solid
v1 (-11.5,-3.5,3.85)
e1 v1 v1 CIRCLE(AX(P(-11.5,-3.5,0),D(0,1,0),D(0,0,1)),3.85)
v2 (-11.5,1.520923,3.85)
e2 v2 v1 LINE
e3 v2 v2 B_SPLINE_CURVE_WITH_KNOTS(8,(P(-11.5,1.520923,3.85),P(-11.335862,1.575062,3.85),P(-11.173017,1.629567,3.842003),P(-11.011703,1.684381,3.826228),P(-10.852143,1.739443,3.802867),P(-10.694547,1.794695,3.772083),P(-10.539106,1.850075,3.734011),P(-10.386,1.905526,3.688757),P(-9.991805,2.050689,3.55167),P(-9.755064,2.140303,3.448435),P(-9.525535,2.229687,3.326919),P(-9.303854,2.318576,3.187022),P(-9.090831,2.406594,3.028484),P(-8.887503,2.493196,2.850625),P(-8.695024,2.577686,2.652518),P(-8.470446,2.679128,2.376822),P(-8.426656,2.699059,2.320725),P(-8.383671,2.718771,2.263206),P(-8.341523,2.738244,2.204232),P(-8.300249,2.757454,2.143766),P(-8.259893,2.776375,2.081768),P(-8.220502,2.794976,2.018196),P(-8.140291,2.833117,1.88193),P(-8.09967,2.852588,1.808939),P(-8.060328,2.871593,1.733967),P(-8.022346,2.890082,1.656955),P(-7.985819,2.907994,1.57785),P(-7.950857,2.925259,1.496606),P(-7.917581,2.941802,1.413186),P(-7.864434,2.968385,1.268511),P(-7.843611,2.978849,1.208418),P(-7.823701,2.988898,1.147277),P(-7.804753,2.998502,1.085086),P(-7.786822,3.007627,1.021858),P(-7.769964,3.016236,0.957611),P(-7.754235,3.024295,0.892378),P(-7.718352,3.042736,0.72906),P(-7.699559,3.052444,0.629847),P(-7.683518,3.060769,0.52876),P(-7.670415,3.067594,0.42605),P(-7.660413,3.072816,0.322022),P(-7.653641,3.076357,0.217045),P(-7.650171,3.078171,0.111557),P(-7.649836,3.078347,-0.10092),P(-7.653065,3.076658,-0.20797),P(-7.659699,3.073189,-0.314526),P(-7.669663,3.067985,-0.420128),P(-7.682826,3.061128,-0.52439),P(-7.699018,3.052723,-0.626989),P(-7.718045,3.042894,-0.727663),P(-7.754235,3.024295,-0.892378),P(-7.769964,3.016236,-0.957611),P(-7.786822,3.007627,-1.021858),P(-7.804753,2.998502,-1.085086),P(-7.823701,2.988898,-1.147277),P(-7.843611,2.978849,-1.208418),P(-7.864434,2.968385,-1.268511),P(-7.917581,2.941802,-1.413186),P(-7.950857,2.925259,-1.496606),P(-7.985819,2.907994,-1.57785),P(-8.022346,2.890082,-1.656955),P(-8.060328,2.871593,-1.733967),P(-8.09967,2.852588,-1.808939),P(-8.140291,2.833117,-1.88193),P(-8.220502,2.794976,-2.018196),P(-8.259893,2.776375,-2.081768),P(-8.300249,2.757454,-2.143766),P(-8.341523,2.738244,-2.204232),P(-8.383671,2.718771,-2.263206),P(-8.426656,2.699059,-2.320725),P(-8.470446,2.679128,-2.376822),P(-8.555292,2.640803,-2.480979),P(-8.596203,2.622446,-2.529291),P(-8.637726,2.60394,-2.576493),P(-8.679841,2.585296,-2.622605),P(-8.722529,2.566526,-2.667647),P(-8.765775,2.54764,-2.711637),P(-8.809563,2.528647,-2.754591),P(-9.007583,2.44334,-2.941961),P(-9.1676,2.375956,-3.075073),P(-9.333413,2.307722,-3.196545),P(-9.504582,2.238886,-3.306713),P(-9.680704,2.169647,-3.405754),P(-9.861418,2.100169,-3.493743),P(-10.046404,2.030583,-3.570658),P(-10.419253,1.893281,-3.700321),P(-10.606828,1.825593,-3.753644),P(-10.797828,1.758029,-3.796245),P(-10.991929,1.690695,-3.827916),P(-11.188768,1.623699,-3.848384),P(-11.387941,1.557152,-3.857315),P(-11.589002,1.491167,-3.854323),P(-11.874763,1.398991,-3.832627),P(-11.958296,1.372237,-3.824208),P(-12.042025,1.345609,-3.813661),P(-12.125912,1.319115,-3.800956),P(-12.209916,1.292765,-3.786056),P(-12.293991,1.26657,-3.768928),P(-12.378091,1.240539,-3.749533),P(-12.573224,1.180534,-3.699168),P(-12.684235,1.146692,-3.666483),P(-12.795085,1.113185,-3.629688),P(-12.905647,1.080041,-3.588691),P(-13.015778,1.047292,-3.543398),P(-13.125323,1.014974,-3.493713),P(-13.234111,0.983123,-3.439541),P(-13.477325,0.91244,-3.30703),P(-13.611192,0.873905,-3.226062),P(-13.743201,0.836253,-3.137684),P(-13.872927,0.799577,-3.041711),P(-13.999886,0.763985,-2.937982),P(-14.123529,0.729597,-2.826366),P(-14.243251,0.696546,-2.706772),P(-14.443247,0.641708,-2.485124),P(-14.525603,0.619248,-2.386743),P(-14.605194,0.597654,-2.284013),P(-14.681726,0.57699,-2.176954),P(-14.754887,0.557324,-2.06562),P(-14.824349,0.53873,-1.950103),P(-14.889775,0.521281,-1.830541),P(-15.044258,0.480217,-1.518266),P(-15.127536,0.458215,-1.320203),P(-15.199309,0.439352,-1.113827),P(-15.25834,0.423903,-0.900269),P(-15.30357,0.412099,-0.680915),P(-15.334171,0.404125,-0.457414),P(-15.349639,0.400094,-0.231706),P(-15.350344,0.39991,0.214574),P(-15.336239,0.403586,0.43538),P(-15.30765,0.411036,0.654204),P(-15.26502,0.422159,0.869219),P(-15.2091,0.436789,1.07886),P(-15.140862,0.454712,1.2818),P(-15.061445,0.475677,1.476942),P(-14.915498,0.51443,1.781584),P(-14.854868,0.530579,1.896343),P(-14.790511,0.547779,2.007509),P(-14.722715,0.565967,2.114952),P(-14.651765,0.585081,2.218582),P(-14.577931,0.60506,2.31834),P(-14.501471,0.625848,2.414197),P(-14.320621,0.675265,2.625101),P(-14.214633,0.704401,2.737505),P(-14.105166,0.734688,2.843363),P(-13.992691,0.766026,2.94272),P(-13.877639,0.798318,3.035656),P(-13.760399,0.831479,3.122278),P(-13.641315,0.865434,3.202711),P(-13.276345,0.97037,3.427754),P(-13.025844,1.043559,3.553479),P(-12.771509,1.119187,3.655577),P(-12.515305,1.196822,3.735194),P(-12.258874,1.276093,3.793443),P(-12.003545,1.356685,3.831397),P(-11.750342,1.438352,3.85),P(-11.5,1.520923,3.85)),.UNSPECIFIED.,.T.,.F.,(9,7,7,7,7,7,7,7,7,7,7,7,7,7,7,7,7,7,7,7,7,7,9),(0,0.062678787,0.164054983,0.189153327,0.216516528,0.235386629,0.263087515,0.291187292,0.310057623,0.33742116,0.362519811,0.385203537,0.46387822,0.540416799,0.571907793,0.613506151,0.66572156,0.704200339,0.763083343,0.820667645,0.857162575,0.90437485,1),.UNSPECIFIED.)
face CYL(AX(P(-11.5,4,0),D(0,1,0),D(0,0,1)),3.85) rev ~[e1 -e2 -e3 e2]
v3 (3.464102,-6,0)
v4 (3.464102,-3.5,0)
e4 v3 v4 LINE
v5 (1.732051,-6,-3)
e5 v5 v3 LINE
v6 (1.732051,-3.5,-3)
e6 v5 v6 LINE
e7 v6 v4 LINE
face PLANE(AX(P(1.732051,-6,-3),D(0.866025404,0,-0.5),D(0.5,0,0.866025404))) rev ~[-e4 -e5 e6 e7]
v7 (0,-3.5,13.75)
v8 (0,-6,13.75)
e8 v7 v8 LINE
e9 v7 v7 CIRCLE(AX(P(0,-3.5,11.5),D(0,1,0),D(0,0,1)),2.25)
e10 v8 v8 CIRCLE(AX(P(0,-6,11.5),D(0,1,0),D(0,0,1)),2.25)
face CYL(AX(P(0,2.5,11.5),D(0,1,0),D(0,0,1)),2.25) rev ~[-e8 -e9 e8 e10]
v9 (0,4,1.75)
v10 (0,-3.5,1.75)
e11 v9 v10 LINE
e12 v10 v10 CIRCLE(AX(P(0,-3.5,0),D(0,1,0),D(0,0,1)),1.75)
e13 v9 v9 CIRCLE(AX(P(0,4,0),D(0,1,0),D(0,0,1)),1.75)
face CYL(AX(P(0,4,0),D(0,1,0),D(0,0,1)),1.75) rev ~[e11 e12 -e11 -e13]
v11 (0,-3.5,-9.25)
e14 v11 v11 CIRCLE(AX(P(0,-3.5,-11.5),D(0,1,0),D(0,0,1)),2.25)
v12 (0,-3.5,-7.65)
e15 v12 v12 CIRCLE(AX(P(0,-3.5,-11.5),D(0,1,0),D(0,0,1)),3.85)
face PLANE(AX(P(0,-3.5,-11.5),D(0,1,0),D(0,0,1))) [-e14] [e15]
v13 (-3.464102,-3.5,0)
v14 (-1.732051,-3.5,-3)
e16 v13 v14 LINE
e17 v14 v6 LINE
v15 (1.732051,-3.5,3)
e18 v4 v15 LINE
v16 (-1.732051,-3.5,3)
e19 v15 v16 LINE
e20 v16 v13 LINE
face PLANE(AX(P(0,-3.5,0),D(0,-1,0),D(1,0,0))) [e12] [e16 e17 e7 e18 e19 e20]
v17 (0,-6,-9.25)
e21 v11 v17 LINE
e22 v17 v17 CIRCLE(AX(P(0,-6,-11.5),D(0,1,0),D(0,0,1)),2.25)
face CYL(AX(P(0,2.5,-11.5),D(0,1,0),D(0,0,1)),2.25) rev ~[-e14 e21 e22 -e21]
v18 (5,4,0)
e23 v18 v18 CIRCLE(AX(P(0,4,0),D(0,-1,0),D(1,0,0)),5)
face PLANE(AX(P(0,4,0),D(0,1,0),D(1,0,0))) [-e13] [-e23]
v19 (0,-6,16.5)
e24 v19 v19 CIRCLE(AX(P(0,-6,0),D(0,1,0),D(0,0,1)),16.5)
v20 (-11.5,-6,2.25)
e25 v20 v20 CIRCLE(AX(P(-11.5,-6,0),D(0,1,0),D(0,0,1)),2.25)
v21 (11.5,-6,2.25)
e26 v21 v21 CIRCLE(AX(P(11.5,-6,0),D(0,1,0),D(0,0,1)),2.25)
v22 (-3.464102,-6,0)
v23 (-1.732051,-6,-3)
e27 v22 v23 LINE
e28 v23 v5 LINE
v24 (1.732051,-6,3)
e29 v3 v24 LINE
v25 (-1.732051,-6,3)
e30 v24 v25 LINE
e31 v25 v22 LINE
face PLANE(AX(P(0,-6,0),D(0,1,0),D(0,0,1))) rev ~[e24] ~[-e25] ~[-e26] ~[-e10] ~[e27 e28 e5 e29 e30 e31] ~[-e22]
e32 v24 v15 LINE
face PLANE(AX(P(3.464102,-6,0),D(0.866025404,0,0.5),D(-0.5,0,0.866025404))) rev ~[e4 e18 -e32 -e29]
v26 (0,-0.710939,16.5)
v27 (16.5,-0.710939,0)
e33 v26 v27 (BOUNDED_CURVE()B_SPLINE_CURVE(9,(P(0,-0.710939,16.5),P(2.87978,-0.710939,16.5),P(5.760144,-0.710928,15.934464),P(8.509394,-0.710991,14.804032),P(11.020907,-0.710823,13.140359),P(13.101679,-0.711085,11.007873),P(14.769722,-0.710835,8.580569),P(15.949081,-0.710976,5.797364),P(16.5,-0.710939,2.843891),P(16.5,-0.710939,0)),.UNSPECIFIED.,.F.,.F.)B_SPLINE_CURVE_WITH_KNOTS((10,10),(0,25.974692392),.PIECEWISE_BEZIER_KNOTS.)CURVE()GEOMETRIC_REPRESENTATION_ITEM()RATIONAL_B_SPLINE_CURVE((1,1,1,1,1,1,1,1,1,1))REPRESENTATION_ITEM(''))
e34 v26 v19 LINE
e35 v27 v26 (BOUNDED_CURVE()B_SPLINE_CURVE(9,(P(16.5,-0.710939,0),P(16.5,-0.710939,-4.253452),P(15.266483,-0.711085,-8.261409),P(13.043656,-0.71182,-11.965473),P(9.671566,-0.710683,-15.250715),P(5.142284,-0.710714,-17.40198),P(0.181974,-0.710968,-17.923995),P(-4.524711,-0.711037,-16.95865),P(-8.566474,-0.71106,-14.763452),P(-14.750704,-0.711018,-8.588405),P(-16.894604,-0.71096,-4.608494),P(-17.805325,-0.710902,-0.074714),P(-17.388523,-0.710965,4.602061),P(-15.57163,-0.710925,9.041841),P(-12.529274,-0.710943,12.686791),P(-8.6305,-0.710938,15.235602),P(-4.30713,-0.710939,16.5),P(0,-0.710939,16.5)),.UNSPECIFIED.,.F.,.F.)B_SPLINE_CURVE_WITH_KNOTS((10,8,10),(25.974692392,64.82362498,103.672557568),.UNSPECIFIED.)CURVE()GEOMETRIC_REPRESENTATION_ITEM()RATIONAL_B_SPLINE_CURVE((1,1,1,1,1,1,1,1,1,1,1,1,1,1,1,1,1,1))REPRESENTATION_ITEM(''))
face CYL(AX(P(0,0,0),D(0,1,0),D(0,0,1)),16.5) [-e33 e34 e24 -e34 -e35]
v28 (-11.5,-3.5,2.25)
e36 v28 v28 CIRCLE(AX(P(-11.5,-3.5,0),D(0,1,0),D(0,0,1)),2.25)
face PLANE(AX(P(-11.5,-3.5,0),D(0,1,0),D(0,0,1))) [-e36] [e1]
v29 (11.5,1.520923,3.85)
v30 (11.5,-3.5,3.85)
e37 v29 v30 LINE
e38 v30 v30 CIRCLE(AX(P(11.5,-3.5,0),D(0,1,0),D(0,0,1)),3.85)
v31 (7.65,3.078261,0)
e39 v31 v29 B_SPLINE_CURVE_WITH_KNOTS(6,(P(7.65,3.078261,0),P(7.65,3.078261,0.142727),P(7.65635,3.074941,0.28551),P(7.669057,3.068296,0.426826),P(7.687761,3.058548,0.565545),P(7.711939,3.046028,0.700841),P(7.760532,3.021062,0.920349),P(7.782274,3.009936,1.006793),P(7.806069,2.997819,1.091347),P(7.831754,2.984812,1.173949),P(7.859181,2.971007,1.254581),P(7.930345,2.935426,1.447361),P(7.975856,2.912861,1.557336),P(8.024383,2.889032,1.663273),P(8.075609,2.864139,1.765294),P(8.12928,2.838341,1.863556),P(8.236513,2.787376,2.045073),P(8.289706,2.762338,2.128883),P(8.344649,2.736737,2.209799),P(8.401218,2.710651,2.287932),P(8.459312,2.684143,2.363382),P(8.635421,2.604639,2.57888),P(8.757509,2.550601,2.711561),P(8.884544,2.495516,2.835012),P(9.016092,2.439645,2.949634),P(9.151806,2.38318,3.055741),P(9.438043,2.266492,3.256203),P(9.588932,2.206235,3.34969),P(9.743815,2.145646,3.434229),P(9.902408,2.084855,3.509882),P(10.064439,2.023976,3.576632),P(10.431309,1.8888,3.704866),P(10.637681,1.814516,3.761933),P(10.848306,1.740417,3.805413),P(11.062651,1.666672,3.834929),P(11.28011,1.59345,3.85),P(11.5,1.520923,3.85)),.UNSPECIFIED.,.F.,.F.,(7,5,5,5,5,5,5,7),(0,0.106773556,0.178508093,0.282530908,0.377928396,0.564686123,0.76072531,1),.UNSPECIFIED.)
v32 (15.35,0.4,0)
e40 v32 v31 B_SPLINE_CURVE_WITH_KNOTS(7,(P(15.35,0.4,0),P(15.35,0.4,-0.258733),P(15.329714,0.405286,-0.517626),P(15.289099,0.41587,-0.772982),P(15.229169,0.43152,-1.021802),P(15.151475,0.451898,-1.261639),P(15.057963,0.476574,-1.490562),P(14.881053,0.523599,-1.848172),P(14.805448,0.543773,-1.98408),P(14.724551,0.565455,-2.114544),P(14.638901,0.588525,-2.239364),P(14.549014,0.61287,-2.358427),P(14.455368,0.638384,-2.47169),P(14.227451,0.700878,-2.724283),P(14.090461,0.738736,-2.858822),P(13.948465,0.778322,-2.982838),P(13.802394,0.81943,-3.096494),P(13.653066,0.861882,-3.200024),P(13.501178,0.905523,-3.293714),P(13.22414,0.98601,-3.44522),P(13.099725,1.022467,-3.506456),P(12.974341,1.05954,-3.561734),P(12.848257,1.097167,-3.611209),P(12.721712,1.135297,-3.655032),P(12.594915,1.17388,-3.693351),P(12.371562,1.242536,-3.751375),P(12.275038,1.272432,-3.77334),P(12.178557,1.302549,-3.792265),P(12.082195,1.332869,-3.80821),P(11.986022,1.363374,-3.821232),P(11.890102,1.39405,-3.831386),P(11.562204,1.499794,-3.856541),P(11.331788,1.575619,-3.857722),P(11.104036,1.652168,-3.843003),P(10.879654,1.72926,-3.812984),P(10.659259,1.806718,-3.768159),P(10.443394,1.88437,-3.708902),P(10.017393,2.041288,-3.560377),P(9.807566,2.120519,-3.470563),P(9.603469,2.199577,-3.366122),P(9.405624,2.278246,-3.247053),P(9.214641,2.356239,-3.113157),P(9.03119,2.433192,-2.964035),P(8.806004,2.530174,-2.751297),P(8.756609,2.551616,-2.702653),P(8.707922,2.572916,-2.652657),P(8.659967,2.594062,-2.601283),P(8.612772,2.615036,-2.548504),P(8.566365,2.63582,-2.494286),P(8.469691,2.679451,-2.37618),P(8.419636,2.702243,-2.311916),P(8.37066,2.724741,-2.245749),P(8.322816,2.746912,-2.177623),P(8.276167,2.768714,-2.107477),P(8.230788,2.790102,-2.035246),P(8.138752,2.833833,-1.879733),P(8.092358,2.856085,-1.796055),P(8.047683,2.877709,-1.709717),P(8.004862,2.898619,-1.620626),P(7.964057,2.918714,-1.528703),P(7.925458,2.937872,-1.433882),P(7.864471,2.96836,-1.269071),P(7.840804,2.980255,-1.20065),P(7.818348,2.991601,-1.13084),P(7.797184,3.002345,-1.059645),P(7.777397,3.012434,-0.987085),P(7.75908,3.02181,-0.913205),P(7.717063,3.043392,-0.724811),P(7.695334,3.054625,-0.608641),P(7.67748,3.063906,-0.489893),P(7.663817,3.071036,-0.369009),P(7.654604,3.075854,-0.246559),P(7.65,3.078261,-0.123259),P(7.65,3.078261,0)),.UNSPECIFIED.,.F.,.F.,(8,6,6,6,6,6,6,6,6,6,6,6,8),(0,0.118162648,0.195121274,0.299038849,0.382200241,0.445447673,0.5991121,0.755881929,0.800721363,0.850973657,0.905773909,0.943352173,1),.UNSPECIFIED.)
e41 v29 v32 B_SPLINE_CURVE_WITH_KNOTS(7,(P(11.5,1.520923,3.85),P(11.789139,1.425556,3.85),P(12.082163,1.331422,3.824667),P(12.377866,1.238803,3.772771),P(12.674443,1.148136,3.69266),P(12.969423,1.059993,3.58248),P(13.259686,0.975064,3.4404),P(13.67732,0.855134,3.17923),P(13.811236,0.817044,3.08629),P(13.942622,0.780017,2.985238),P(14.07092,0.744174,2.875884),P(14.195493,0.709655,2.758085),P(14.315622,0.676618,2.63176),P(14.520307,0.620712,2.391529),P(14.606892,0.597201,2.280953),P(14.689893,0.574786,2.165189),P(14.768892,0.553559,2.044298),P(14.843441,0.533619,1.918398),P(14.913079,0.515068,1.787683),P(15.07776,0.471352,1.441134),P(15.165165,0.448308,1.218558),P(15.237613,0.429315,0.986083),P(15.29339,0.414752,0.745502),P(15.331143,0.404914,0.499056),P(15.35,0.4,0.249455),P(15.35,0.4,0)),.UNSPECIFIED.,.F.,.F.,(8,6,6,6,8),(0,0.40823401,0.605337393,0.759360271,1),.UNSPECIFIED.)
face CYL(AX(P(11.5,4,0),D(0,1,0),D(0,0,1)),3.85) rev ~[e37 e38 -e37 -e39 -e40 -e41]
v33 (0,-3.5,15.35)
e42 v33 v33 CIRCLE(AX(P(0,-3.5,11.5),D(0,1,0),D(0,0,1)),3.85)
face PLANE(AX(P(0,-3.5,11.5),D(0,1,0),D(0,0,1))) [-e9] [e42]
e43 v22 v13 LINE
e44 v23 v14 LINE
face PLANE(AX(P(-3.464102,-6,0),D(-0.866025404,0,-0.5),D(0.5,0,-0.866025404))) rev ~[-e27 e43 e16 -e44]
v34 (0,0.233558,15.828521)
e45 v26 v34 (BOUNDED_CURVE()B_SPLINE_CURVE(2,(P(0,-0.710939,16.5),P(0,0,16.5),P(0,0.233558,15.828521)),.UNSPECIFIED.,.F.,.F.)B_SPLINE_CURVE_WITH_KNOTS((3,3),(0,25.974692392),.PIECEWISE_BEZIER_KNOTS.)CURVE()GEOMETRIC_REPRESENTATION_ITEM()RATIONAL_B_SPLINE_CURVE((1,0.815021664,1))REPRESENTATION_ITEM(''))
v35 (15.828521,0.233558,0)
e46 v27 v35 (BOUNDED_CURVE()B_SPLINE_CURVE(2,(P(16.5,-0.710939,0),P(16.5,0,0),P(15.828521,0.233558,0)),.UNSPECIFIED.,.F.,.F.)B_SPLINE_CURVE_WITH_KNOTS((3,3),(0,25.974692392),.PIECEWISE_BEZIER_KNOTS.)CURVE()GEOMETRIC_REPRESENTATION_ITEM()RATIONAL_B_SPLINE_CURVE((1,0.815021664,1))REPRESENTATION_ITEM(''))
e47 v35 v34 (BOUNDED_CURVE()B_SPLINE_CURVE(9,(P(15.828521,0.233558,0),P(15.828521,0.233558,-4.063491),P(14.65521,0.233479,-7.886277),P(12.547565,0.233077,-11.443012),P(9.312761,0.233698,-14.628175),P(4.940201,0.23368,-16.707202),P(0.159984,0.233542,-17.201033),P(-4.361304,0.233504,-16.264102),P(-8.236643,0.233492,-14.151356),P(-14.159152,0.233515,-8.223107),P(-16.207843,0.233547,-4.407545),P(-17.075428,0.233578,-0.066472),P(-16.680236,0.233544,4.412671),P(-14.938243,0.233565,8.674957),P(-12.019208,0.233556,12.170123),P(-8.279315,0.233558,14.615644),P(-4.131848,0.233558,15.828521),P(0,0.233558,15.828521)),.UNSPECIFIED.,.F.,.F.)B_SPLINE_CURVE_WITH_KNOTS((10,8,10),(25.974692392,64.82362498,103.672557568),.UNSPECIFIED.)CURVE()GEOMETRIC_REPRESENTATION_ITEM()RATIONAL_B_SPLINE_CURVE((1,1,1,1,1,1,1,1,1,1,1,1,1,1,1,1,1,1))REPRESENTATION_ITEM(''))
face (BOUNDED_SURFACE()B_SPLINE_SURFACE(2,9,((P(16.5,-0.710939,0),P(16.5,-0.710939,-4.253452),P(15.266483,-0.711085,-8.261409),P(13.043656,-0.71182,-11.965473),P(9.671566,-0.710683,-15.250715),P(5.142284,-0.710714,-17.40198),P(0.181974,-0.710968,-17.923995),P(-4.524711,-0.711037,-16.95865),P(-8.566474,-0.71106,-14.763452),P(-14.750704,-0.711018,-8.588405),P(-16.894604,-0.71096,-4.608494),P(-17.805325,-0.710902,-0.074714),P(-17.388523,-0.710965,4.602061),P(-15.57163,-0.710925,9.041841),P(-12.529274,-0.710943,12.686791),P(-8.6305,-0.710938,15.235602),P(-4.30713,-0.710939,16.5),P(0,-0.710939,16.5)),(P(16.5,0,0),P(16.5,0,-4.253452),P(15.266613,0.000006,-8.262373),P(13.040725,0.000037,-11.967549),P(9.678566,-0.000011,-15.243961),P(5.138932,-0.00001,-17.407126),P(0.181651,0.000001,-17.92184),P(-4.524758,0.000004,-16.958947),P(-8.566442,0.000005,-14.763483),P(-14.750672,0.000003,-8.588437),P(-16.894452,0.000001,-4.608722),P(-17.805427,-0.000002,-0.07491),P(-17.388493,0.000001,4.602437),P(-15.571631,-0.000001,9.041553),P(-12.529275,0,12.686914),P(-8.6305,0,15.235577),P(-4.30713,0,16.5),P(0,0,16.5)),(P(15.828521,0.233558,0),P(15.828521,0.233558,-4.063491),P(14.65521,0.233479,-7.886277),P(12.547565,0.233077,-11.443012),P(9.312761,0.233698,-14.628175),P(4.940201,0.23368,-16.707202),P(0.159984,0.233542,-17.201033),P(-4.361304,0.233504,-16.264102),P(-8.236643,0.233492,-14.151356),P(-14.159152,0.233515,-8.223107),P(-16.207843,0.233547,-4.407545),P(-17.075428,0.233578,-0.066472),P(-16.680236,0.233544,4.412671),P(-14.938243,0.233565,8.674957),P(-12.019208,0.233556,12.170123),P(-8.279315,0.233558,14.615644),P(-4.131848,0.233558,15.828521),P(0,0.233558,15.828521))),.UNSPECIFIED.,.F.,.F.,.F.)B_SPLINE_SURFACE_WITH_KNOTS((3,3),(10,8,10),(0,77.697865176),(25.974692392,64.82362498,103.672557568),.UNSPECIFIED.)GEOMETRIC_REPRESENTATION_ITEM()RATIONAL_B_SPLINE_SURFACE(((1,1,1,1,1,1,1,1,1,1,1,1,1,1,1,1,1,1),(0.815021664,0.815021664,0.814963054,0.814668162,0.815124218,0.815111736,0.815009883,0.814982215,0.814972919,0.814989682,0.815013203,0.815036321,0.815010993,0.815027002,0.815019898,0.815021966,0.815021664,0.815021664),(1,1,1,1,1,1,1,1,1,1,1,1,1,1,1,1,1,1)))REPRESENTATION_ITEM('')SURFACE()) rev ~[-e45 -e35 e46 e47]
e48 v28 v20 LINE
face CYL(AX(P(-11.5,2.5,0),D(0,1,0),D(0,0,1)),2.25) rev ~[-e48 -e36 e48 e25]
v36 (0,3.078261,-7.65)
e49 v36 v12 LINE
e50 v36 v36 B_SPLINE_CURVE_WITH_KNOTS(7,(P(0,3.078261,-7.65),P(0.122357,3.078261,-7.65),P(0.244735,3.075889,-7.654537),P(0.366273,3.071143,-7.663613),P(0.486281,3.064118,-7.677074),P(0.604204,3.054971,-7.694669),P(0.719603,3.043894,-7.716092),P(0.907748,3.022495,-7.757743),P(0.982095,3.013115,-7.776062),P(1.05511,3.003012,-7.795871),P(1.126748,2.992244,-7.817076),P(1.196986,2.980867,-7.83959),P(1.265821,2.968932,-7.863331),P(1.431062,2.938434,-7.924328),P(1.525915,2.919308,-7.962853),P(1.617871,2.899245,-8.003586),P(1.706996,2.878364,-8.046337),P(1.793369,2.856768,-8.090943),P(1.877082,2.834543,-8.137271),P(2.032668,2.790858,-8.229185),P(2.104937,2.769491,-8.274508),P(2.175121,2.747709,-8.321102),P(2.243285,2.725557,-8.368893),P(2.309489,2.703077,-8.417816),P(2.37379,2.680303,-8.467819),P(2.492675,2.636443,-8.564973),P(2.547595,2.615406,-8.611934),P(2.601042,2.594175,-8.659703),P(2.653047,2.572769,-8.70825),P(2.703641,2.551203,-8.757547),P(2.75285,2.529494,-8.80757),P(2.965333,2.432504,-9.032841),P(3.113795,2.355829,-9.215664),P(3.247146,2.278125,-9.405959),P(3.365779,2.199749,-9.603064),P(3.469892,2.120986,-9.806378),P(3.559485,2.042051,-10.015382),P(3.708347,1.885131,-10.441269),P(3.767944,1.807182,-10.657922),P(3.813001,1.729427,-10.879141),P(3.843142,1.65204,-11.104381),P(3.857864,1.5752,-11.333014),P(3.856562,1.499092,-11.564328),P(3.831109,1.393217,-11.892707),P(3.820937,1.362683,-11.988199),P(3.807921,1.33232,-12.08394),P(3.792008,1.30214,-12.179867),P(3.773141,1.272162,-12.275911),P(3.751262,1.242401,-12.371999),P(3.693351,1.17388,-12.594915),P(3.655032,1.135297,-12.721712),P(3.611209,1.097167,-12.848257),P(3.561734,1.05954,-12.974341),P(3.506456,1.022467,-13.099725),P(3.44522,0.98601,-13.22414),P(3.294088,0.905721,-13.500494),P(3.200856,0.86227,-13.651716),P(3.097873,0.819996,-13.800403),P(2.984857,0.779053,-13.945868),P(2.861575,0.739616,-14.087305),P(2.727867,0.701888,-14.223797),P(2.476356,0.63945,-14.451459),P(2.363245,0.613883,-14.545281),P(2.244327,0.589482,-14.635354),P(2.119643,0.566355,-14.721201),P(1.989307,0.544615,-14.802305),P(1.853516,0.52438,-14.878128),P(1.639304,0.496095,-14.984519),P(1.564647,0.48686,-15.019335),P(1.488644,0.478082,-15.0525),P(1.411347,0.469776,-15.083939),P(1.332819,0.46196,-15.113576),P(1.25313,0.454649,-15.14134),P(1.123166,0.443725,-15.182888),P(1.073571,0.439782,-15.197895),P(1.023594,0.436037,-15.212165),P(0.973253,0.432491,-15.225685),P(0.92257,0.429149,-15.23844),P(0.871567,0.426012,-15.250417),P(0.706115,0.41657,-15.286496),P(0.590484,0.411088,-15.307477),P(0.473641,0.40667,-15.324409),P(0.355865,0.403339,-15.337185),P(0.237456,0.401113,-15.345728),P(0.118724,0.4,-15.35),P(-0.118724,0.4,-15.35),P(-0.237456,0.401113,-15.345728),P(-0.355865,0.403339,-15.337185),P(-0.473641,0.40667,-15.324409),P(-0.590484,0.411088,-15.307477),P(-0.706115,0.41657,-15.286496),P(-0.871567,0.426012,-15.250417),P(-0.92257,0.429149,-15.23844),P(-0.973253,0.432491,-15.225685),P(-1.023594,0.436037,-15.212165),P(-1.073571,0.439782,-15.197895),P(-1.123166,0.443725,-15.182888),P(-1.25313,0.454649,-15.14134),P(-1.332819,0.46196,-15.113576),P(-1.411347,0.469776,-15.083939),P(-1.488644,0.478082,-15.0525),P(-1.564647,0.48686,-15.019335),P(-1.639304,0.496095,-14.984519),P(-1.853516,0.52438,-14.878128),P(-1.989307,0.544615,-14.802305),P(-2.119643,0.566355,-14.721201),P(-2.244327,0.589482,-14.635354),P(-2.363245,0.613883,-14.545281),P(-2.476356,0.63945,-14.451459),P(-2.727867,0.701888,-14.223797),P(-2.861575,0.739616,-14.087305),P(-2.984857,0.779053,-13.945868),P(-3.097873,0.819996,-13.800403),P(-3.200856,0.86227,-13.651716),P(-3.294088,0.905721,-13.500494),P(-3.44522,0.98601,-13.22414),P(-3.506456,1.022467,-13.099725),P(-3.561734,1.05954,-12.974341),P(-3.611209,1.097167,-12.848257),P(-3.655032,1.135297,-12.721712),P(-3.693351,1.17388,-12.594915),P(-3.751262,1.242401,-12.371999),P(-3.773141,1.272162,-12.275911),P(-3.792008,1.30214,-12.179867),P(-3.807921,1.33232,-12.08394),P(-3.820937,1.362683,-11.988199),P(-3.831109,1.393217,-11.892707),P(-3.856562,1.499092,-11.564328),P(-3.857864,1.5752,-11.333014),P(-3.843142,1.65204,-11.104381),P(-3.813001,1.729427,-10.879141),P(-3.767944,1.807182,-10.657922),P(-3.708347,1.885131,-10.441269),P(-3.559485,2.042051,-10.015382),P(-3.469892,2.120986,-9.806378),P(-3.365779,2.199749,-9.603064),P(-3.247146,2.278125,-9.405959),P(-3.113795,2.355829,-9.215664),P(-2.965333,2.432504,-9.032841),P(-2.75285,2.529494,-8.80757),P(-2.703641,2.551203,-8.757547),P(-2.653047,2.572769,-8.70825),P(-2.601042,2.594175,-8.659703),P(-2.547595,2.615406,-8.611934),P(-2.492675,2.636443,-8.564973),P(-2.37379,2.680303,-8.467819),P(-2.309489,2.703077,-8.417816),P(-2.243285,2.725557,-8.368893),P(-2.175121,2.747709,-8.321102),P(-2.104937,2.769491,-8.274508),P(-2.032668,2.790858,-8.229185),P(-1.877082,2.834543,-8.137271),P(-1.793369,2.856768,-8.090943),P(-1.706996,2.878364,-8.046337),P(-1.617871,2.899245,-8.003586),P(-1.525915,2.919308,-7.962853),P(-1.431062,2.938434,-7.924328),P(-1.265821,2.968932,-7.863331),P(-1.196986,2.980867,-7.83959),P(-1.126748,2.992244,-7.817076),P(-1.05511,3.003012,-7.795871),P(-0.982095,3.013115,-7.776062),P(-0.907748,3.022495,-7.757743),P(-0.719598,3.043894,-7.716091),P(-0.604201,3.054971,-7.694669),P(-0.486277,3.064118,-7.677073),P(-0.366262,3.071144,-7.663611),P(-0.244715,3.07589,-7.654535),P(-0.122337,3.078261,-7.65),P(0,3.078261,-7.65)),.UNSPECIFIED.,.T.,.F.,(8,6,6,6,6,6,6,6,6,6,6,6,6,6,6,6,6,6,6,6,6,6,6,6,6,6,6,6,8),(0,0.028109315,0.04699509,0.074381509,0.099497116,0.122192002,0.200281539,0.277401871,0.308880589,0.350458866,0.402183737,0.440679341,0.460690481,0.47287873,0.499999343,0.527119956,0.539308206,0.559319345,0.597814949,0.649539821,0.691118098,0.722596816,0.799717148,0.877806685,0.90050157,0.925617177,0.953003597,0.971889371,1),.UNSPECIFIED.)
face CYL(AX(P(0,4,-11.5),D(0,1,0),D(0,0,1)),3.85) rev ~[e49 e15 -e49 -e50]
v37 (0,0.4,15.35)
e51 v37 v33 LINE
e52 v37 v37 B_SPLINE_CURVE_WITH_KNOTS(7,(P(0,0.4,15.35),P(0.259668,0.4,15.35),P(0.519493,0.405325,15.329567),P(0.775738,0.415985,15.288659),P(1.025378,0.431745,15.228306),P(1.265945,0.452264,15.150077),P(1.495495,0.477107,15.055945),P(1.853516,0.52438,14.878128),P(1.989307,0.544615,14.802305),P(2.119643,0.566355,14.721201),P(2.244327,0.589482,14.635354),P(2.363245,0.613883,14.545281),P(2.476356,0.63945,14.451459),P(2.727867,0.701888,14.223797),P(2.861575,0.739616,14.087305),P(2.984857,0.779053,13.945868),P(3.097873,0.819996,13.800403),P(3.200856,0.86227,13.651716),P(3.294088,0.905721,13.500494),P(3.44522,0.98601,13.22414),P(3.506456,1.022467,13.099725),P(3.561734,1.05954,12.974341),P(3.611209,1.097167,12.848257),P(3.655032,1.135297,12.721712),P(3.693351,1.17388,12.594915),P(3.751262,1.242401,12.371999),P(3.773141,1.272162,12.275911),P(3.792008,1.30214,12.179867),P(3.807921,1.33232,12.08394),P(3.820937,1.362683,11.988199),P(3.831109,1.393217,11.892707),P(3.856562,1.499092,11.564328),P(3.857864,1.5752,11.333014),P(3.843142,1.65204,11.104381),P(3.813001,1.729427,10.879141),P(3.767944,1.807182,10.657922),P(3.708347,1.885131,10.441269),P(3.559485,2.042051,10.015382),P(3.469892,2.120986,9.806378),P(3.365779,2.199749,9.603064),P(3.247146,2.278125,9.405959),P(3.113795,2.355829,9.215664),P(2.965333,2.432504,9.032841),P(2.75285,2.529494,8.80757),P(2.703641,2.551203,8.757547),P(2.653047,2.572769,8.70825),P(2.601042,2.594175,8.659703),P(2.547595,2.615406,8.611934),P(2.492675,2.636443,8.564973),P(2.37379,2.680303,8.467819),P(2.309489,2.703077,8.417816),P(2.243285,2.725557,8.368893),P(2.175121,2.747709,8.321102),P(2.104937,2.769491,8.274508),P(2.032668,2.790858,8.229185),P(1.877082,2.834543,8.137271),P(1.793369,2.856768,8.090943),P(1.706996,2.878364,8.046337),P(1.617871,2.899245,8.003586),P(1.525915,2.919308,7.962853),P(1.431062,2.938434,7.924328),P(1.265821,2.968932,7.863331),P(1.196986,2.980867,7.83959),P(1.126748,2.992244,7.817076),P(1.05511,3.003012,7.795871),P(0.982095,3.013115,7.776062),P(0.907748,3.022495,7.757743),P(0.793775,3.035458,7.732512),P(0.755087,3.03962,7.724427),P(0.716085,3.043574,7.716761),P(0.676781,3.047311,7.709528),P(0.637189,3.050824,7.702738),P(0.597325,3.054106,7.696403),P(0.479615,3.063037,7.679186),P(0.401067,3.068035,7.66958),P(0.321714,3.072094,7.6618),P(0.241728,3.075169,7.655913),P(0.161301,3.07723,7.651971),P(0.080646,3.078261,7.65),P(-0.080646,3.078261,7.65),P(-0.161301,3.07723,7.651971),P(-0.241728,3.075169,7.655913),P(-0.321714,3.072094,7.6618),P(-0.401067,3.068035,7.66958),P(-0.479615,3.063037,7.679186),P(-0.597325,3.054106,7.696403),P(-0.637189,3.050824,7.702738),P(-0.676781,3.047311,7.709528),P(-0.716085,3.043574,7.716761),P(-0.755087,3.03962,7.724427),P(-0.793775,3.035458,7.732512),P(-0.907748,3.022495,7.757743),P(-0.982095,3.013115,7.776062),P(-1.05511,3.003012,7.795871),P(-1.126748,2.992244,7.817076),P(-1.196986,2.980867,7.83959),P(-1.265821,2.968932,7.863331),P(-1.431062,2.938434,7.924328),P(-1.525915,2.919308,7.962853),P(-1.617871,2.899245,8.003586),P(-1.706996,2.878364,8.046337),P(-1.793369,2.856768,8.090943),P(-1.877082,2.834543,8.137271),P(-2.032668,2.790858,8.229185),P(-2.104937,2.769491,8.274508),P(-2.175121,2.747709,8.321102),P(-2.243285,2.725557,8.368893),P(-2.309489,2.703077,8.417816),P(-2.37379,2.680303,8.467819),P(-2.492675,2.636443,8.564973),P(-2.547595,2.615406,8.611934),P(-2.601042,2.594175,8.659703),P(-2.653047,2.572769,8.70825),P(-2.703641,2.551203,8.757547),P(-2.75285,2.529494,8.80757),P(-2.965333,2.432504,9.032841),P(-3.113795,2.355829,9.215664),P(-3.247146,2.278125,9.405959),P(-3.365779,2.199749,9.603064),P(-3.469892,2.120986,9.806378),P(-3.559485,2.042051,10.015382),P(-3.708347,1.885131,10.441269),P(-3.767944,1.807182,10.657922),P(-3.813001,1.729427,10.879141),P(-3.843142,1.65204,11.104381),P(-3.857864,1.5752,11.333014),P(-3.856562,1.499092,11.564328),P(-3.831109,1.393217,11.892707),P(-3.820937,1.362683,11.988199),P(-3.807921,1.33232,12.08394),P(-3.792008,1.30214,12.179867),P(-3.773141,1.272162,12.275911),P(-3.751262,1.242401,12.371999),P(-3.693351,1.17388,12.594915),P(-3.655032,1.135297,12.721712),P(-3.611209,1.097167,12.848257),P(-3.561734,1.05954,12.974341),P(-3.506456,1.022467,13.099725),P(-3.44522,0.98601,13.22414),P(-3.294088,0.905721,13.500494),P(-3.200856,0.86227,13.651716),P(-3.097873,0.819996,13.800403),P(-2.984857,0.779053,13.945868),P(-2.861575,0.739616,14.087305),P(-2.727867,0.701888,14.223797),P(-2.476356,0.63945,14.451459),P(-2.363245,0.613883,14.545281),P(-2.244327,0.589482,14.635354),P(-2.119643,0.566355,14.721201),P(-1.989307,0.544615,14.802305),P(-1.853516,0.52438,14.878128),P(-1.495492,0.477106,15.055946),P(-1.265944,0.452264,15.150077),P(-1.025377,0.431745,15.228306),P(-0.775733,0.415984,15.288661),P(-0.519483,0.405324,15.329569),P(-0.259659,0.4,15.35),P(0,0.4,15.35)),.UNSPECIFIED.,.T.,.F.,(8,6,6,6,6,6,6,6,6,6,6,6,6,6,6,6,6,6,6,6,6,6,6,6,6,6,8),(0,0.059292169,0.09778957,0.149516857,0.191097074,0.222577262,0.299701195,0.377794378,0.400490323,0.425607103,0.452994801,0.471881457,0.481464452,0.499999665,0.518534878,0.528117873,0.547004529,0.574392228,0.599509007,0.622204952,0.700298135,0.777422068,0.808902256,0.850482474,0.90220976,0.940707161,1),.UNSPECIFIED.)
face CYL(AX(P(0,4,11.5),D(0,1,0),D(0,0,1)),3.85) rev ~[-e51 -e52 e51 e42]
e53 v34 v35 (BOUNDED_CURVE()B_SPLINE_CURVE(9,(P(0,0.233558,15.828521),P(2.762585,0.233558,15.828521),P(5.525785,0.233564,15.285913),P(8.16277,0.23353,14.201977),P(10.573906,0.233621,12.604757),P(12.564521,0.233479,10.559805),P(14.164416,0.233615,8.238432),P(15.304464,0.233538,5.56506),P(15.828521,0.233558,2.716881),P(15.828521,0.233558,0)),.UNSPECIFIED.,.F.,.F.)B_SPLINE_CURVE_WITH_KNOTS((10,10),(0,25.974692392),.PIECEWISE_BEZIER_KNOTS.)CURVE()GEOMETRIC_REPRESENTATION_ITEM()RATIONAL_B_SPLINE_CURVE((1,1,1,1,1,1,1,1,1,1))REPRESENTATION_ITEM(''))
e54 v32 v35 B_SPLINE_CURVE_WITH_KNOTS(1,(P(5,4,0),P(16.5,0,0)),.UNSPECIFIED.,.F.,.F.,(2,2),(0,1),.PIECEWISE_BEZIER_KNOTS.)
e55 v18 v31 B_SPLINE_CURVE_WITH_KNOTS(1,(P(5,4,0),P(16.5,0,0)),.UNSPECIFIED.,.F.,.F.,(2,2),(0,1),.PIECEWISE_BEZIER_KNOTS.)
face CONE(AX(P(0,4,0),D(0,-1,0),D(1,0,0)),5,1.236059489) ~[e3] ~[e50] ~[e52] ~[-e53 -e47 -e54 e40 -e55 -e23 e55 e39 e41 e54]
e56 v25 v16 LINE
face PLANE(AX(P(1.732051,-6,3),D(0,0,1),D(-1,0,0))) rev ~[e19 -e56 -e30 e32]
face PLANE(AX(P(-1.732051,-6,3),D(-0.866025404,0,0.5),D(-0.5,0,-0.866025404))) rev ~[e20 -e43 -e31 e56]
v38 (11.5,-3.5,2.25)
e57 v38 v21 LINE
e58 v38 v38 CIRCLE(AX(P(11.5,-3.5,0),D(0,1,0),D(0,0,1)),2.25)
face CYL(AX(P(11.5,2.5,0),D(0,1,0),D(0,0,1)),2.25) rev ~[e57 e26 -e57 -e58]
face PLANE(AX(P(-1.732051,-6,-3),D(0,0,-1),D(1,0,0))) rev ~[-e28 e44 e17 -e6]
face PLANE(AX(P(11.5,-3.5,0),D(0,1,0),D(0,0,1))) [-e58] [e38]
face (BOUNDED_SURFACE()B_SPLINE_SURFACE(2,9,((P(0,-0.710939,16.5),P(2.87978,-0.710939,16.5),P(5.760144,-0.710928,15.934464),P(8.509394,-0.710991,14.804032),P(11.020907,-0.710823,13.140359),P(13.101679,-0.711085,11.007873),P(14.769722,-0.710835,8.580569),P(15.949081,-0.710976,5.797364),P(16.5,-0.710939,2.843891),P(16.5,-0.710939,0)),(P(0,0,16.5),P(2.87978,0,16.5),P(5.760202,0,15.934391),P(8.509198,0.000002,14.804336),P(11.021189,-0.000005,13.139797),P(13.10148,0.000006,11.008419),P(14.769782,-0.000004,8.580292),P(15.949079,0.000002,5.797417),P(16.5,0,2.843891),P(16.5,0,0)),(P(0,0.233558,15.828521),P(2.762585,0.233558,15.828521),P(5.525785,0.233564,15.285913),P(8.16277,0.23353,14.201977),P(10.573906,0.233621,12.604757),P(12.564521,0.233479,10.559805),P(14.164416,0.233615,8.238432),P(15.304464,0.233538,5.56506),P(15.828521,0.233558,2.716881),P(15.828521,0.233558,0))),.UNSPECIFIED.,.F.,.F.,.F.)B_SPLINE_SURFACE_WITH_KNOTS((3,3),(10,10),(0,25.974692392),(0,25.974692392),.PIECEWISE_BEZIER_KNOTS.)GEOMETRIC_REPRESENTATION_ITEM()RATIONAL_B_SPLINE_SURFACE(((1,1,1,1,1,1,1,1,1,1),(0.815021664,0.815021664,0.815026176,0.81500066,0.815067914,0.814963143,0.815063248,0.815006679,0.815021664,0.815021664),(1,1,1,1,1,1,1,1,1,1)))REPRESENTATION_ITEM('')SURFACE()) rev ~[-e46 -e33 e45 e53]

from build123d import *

# Parameters (mm, degrees)
SKETCH1_R           = 16.5
BOSS_EXTRUDE1_DEPTH = 6
SKETCH4_R           = 5
SKETCH6_R           = 3.85
CUT_EXTRUDE1_DEPTH  = 7.5
SKETCH7_R           = 1.75
CUT_EXTRUDE2_DEPTH  = 26.38700468
SKETCH9_R           = 2.25
CUT_EXTRUDE3_DEPTH  = 25.834452009
FILLET1_R           = 1
CUT_EXTRUDE4_DEPTH  = 2.5


with BuildPart() as part:
    # Sketch1 → Boss-Extrude1 (new body)
    with BuildSketch(Plane(origin=(0, 0, 0), x_dir=(1, 0, 0), z_dir=(0, 1, 0))):
        with Locations(Location((0, 0, 0), (0, 0, 270))):
            Circle(SKETCH1_R)
    extrude(amount=-BOSS_EXTRUDE1_DEPTH)

    # Sketch4 → section 0 of loft1
    with BuildSketch(Plane(origin=(0, 4, 0), x_dir=(1, 0, 0), z_dir=(0, 1, 0)), mode=Mode.PRIVATE) as loft1_s0:
        Circle(SKETCH4_R)
    # loft up to a face of the part (loft1)
    loft([loft1_s0.sketch, part.faces().sort_by_distance((0, 0, 0))[0]])

    # Sketch6 → Cut-Extrude1 (cut)
    with BuildSketch(Plane(origin=(0, 4, 0), x_dir=(1, 0, 0), z_dir=(0, 1, 0))):
        with Locations(Location((0, 11.5, 0), (0, 0, 270))):
            Circle(SKETCH6_R)
        with Locations(Location((11.5, 0, 0), (0, 0, 270))):
            Circle(SKETCH6_R)
        with Locations(Location((0, -11.5, 0), (0, 0, 269.999999981))):
            Circle(SKETCH6_R)
        with Locations(Location((-11.5, 0, 0), (0, 0, 270))):
            Circle(SKETCH6_R)
    extrude(amount=-CUT_EXTRUDE1_DEPTH, mode=Mode.SUBTRACT)

    # Sketch7 → Cut-Extrude2 (cut, through all)
    with BuildSketch(Plane(origin=(0, 4, 0), x_dir=(1, 0, 0), z_dir=(0, 1, 0))):
        with Locations(Location((0, 0, 0), (0, 0, 270))):
            Circle(SKETCH7_R)
    extrude(amount=-CUT_EXTRUDE2_DEPTH, mode=Mode.SUBTRACT)

    # Sketch9 → Cut-Extrude3 (cut, through all)
    with BuildSketch(Plane(origin=(0, 2.5, 0), x_dir=(1, 0, 0), z_dir=(0, 1, 0))):
        with Locations(Location((0, 11.5, 0), (0, 0, 270))):
            Circle(SKETCH9_R)
        with Locations(Location((11.5, 0, 0), (0, 0, 270))):
            Circle(SKETCH9_R)
        with Locations(Location((0, -11.5, 0), (0, 0, 270))):
            Circle(SKETCH9_R)
        with Locations(Location((-11.5, 0, 0), (0, 0, 270))):
            Circle(SKETCH9_R)
    extrude(amount=-CUT_EXTRUDE3_DEPTH, mode=Mode.SUBTRACT)

    # Fillet1
    fillet1_edges = [part.edges().sort_by_distance(p)[0] for p in [
        (11.66726189, 0, 11.66726189),
    ]]
    fillet(fillet1_edges, radius=FILLET1_R)

    # Sketch10 → Cut-Extrude4 (cut)
    with BuildSketch(Plane.XZ.offset(6)):
        Polygon((1.732050808, -3), (3.464101615, 0), (1.732050808, 3), (-1.732050808, 3), (-3.464101615, 0), (-1.732050808, -3), align=None)
    extrude(amount=-CUT_EXTRUDE4_DEPTH, mode=Mode.SUBTRACT)


solid = part.part
